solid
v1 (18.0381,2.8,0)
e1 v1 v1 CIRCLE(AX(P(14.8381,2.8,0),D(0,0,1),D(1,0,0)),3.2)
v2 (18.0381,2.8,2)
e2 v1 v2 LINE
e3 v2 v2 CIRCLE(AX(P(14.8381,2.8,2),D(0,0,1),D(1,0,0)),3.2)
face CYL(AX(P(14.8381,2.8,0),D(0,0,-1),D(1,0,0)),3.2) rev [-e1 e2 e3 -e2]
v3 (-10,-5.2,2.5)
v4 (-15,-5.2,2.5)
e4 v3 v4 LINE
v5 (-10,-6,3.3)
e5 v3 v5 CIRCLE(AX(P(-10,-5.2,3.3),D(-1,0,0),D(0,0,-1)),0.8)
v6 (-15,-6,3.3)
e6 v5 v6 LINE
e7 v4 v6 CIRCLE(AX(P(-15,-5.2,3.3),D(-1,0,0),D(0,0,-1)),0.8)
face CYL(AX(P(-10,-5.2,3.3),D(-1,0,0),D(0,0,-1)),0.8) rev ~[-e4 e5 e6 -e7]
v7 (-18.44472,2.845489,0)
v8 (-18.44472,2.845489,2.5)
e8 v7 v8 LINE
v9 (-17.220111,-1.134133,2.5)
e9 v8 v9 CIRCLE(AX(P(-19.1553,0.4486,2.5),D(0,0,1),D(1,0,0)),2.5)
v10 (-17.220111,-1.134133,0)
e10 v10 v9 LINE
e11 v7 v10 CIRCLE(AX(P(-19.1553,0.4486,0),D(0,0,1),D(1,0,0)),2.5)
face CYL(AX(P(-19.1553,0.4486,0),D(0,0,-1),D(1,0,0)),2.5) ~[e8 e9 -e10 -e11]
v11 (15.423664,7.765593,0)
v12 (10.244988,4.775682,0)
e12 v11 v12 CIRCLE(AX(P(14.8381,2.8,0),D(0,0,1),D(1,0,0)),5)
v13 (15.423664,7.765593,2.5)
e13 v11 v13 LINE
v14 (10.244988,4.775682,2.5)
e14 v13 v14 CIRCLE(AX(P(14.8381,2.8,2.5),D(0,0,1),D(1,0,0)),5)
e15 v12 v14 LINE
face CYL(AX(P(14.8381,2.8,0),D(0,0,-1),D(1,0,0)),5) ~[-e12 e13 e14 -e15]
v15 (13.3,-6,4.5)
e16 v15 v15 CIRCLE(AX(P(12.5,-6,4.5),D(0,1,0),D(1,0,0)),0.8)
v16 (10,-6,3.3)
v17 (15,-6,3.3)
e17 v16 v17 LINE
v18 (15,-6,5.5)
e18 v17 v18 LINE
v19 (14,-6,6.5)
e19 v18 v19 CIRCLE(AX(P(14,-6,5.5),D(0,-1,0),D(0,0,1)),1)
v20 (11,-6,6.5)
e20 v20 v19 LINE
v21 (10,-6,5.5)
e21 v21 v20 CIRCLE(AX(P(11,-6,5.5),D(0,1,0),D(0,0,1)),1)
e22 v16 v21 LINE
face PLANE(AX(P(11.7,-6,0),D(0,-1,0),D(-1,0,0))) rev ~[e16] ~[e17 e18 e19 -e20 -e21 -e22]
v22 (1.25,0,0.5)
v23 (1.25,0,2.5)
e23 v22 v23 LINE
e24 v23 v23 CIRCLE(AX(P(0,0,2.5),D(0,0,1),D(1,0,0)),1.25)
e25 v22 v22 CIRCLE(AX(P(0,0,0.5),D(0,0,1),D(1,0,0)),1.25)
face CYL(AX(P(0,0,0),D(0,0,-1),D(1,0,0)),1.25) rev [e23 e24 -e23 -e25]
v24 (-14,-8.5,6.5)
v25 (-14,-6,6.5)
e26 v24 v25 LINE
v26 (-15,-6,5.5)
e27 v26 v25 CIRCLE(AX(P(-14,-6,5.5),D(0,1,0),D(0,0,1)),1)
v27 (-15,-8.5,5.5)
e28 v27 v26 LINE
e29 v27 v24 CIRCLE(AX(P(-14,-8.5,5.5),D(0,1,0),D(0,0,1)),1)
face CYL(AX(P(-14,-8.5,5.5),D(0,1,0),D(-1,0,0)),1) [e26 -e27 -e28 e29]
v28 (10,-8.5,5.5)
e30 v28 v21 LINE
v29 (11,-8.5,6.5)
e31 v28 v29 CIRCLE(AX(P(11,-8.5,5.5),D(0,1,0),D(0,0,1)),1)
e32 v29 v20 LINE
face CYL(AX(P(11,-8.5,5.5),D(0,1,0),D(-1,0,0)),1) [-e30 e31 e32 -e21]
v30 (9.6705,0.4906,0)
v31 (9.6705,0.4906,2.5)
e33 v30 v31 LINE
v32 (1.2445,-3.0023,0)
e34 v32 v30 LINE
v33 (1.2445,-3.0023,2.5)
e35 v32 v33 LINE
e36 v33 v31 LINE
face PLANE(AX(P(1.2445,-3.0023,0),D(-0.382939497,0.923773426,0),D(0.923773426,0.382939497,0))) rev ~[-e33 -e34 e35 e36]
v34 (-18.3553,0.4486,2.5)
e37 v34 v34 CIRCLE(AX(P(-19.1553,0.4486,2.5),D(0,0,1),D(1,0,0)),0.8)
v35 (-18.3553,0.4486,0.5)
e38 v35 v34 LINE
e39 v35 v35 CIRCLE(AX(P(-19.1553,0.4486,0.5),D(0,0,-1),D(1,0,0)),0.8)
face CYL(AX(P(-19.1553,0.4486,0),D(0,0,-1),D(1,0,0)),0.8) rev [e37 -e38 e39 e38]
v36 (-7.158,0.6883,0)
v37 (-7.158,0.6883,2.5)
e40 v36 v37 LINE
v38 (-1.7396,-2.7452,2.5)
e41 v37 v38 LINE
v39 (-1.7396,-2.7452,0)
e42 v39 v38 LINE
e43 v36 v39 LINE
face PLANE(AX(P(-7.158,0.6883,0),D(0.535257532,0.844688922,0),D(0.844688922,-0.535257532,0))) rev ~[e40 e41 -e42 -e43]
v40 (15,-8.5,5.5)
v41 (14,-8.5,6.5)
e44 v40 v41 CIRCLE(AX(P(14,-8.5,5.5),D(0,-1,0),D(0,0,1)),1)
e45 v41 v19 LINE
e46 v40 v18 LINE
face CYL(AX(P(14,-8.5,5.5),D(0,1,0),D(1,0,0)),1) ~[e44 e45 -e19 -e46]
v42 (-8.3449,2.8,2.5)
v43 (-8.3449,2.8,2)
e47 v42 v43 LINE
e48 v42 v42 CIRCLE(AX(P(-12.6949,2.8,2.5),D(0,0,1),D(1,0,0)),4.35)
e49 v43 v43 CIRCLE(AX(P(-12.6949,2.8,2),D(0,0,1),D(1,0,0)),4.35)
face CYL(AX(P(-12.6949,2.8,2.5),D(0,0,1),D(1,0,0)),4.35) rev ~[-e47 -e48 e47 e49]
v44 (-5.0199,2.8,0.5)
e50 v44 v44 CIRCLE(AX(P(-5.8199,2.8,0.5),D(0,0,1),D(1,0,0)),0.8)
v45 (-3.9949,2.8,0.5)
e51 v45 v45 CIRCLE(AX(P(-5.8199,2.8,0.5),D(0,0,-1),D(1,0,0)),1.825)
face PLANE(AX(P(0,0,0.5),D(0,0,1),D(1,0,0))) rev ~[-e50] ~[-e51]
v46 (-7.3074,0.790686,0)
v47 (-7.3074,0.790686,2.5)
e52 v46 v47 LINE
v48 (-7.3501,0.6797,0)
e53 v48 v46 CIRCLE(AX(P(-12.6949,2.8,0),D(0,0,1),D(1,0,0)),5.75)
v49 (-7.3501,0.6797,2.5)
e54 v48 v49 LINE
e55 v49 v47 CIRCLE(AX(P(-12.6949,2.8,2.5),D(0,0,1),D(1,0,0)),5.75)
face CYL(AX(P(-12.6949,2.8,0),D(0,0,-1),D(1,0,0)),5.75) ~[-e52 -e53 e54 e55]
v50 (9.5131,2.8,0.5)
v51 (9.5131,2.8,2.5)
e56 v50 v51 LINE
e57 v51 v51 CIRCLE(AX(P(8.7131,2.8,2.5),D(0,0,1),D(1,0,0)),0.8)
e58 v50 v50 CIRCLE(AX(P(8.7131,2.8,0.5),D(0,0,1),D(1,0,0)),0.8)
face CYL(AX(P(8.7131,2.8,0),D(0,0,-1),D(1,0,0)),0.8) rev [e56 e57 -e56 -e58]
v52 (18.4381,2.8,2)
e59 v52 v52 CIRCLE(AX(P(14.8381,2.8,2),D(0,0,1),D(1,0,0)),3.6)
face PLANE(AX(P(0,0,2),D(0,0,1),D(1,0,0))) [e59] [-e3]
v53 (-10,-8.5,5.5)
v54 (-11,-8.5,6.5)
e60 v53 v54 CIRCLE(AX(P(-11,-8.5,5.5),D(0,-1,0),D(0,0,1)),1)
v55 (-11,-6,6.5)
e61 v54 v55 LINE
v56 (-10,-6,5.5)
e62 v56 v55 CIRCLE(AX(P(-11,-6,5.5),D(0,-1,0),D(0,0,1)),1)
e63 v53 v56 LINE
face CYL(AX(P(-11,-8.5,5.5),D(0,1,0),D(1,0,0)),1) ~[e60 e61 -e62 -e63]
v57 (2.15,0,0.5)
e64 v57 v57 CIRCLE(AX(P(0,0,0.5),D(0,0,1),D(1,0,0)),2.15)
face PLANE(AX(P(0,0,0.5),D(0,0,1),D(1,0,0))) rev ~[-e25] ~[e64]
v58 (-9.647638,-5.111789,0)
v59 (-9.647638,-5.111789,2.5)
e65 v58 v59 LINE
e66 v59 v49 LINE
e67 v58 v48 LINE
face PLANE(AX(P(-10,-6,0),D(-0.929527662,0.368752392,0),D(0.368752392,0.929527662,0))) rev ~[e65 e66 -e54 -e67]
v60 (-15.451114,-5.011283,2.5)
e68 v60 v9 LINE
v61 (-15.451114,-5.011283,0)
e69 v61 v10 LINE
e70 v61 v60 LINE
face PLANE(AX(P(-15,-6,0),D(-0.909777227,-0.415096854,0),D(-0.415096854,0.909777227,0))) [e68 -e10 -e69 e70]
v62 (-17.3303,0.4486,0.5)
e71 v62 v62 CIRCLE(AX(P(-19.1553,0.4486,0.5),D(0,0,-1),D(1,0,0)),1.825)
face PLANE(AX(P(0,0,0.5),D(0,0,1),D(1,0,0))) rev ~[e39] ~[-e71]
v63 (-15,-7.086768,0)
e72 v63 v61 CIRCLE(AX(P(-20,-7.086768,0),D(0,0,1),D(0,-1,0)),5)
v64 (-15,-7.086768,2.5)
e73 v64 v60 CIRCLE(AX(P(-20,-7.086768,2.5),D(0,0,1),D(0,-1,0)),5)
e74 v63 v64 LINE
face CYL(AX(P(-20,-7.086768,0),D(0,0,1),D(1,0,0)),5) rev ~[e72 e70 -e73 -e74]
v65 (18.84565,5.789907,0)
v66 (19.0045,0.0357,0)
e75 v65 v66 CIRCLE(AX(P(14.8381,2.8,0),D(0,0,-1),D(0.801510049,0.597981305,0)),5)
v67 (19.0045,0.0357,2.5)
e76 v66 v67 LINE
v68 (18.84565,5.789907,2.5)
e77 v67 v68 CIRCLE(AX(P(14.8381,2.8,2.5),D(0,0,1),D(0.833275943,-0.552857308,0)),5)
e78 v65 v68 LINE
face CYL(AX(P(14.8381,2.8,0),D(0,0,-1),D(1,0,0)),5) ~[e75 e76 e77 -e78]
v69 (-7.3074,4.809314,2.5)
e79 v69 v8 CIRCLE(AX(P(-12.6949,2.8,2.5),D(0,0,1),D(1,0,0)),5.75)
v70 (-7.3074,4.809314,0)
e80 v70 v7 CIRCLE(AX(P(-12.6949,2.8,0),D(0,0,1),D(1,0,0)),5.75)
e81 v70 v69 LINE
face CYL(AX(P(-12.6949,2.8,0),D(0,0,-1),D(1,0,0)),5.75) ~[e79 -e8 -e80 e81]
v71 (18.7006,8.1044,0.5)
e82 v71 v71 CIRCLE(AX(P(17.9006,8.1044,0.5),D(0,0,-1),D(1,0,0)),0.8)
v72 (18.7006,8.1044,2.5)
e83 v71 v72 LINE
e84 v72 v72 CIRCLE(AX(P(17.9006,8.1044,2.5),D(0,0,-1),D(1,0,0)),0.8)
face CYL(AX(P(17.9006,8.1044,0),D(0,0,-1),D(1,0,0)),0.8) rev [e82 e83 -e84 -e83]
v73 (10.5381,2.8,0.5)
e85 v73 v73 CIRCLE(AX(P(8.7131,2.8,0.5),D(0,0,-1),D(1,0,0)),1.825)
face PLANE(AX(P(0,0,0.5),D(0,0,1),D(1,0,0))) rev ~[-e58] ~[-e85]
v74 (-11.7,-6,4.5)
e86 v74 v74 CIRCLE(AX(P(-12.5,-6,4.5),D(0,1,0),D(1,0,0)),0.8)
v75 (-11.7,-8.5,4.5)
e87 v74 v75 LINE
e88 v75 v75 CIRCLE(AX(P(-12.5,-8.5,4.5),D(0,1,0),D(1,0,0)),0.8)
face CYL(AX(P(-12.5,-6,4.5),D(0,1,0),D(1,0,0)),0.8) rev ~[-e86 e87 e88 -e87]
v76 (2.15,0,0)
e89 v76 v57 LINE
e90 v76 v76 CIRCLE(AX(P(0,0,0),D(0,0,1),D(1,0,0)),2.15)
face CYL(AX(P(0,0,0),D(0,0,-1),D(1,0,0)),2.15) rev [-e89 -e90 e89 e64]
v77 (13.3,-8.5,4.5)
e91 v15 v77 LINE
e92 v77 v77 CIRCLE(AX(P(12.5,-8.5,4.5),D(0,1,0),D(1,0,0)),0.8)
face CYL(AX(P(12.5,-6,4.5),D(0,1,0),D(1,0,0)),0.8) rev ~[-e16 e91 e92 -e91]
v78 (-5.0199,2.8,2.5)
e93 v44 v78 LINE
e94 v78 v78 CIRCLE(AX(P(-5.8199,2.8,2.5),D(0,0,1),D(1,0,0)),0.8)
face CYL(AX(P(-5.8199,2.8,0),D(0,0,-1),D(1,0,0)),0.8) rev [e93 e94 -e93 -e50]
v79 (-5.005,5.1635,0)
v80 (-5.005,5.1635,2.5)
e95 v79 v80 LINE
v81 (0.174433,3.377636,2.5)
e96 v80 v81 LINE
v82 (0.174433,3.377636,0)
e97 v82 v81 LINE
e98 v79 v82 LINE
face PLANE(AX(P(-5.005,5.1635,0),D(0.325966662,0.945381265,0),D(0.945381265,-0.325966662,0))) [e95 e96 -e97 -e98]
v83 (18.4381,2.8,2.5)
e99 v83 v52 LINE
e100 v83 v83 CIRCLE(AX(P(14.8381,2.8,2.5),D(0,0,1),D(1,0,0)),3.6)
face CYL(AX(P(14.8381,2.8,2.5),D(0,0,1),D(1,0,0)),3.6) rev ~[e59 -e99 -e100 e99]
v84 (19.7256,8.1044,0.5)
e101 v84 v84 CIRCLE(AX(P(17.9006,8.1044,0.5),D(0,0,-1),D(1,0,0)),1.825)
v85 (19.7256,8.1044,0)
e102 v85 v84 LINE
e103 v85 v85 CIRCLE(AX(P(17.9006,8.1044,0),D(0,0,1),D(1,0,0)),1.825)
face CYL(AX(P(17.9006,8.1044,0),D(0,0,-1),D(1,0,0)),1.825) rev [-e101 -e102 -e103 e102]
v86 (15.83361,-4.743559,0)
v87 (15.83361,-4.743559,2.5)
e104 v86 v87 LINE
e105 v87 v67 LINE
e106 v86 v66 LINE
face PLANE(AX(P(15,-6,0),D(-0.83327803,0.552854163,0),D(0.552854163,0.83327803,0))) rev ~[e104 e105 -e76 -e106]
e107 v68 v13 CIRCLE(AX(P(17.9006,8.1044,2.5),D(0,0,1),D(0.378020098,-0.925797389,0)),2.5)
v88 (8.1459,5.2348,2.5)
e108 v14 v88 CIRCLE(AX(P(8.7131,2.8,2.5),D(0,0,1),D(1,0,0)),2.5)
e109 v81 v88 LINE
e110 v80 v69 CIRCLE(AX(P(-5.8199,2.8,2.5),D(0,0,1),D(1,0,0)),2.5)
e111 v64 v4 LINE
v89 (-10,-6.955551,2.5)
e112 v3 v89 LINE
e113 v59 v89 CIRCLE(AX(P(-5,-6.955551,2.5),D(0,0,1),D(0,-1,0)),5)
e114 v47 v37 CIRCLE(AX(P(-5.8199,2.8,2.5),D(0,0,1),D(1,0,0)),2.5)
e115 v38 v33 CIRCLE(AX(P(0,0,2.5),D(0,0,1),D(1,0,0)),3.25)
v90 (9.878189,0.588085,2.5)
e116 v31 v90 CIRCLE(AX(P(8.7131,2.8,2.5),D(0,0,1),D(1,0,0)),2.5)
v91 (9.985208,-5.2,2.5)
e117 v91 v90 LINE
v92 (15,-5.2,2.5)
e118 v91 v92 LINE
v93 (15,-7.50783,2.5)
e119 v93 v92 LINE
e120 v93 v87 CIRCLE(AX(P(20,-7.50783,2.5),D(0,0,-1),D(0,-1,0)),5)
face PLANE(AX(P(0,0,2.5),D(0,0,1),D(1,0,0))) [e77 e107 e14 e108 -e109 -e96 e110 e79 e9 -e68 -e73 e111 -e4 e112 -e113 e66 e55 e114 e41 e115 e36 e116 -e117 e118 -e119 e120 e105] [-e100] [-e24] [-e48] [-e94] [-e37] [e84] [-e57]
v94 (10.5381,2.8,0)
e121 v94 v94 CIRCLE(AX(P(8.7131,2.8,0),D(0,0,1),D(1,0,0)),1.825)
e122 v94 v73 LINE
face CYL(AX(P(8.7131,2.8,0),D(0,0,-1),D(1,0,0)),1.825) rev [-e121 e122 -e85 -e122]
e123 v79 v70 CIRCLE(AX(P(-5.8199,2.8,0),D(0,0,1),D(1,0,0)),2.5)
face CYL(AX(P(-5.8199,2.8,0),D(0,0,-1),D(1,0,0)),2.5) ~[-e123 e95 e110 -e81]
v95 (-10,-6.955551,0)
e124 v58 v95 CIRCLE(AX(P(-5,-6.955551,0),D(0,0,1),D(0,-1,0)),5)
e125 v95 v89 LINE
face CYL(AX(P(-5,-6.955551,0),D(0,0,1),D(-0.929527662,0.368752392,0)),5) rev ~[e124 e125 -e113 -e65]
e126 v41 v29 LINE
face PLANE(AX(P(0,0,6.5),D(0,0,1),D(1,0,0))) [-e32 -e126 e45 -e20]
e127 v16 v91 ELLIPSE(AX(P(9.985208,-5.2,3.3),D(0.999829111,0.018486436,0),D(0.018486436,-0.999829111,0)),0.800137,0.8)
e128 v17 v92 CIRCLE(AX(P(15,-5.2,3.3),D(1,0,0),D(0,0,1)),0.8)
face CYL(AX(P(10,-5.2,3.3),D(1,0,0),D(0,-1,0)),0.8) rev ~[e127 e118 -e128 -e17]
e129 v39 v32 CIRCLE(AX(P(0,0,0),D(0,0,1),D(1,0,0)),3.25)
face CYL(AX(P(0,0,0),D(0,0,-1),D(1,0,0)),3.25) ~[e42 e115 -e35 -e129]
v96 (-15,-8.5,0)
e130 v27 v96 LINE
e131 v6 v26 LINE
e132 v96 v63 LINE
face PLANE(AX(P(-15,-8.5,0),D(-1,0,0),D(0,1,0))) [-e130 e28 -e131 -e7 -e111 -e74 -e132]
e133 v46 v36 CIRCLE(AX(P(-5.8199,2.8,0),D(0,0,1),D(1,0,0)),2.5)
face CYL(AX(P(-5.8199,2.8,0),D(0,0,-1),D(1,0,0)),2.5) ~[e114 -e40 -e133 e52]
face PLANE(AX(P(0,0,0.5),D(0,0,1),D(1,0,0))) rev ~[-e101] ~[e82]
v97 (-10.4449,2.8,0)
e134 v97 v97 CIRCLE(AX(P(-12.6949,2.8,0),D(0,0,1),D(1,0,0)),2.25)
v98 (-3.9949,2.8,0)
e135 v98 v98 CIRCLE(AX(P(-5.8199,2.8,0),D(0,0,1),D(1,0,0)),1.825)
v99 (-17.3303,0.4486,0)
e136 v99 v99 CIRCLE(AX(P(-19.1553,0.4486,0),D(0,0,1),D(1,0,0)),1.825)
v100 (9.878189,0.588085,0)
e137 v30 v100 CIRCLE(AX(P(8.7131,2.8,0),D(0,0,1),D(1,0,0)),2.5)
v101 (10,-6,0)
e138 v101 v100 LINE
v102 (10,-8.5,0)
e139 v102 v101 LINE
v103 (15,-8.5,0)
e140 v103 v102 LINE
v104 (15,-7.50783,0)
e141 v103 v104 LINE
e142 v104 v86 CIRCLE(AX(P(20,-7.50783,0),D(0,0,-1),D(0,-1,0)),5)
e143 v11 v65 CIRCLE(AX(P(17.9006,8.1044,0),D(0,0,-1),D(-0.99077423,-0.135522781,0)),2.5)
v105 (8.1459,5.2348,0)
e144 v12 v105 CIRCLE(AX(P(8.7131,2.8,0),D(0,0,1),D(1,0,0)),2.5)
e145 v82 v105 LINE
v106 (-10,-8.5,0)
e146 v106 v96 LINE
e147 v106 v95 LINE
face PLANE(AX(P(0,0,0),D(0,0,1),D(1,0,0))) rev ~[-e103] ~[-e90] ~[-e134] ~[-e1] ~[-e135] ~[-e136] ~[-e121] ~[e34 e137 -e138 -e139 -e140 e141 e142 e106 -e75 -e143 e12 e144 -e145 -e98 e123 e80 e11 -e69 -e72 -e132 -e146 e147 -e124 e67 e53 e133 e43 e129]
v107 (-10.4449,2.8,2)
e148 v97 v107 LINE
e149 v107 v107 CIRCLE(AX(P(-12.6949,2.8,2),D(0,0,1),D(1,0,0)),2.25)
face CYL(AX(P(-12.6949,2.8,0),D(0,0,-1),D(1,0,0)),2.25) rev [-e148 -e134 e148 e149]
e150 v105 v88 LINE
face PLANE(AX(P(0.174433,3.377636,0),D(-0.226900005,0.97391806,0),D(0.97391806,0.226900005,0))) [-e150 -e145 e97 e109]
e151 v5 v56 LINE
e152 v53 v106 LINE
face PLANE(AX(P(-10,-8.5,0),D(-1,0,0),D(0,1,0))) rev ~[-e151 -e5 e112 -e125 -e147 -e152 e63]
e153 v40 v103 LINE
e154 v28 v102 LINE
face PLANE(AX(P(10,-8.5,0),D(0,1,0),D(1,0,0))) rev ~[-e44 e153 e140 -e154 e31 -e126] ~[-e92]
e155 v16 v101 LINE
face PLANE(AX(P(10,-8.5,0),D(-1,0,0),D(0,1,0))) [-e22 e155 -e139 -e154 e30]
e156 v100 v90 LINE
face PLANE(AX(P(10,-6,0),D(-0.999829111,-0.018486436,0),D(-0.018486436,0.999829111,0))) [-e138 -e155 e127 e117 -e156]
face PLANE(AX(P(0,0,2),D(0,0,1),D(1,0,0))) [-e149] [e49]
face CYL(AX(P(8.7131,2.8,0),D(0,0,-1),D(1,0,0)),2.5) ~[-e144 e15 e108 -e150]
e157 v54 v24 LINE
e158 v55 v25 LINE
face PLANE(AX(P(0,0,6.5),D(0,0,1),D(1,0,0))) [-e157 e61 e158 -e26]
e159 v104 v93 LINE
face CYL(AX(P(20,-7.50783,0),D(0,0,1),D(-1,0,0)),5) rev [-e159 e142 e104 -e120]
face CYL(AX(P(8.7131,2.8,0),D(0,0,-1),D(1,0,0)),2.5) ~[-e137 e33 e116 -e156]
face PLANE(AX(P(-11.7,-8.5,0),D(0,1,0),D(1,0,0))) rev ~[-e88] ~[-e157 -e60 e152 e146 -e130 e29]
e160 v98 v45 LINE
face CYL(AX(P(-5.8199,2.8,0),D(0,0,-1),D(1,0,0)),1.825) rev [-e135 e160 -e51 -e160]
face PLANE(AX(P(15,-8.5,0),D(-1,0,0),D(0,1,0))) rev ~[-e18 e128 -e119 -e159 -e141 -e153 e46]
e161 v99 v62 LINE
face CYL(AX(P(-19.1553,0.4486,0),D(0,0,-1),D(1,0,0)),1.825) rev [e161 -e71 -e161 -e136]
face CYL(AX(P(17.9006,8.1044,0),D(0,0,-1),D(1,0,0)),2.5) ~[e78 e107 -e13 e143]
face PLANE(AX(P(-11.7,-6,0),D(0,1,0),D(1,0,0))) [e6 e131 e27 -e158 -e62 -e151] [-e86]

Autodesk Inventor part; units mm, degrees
ref_plane "YZ Plane" through (0, 0, 0) normal (1, 0, 0) x (0, 1, 0)
ref_plane "XZ Plane" through (0, 0, 0) normal (0, 1, 0) x (-1, 0, 0)
ref_plane "XY Plane" through (0, 0, 0) normal (0, 0, 1) x (1, 0, 0)
sketch "blueprint" plane through (0, 0, 0) normal (0, 0, 1) x (1, 0, 0)
  line L0 (0, 0) -> (0, 1) construction
  line L1 (0, 0) -> (1, 0) construction
  circle A0 centre (0, 0) radius 1.25
  circle A1 centre (0, 0) radius 11.5 construction
  line L2 (-25, -11.5) -> (25, -11.5) construction
  line L3 (-25, -9.5) -> (25, -9.5) construction
  line L4 (-25, -8.5) -> (25, -8.5) construction
  line L5 (-25, -4) -> (25, -4) construction
  circle A2 centre (0, 0) radius 10.65 construction
  circle A3 centre (-12.6949, 2.8) radius 2.25
  circle A4 centre (14.8381, 2.8) radius 4.35 construction
  circle A5 centre (14.8381, 2.8) radius 3.5 construction
  line L6 (-25, -3.2) -> (25, -3.2) construction
  circle A6 centre (-12.6949, 2.8) radius 4.25 construction
  circle A7 centre (-19.1553, 0.4486) radius 0.625 construction
  circle A8 centre (-5.8199, 2.8) radius 0.625 construction
  circle A9 centre (-12.6949, 2.8) radius 6.875 construction
  circle A10 centre (-19.1553, 0.4486) radius 1.825
  circle A11 centre (-5.8199, 2.8) radius 1.825
  circle A12 centre (14.8381, 2.8) radius 5
  circle A13 centre (14.8381, 2.8) radius 6.125 construction
  circle A14 centre (17.9006, 8.1044) radius 0.625 construction
  circle A15 centre (8.7131, 2.8) radius 0.625 construction
  circle A16 centre (17.9006, 8.1044) radius 1.825
  circle A17 centre (-19.1553, 0.4486) radius 0.8
  circle A18 centre (-5.8199, 2.8) radius 0.8
  circle A19 centre (17.9006, 8.1044) radius 0.8
  circle A20 centre (-19.1553, 0.4486) radius 2.5
  circle A21 centre (-5.8199, 2.8) radius 2.5
  circle A22 centre (17.9006, 8.1044) radius 2.5
  circle A23 centre (14.8381, 2.8) radius 3.6
  circle A24 centre (0, 0) radius 3.25
  line L7 (-15, -4) -> (-15, -8.5) construction
  line L8 (15, -4) -> (15, -8.5) construction
  line L9 (-10, -8.5) -> (-10, -6)
  line L10 (-15, -8.5) -> (-15, -6)
  line L11 (-15, -6) -> (-10, -6)
  line L12 (-12.5, -6) -> (-12.5, -8.5)
  line L13 (-13.3, -6) -> (-13.3, -8.5)
  line L14 (-11.7, -6) -> (-11.7, -8.5)
  line L15 (10, -8.5) -> (10, -6)
  line L16 (15, -8.5) -> (15, -6)
  line L17 (15, -6) -> (10, -6)
  line L18 (12.5, -6) -> (12.5, -8.5)
  line L19 (13.3, -6) -> (13.3, -8.5)
  line L20 (11.7, -6) -> (11.7, -8.5)
  line L21 (-15, -8.5) -> (-10, -8.5)
  line L22 (10, -8.5) -> (15, -8.5)
  circle A25 centre (8.7131, 2.8) radius 1.825
  line L23 (-12.6949, 2.8) -> (-19.1553, 0.4486) construction
  line L24 (-12.6949, 2.8) -> (-5.8199, 2.8) construction
  line L25 (14.8381, 2.8) -> (8.7131, 2.8) construction
  circle A26 centre (-12.6949, 2.8) radius 5.75
  line L26 (-2.5, -6.5) -> (2.5, -6.5)
  line L27 (2.5, -6.5) -> (2.5, -8.5)
  line L28 (2.5, -8.5) -> (-2.5, -8.5)
  line L29 (-2.5, -8.5) -> (-2.5, -6.5)
  line L30 (-2.5, -6.5) -> (2.5, -8.5) construction
  line L31 (2.5, -6.5) -> (-2.5, -8.5) construction
  line L32 (0, -6.5) -> (0, -8.5) construction
  line L33 (-0.8, -6.5) -> (-0.8, -8.5) construction
  line L34 (0.8, -6.5) -> (0.8, -8.5) construction
  circle A27 centre (8.7131, 2.8) radius 0.8
  circle A28 centre (8.7131, 2.8) radius 2.5
  line L35 (17.9006, 8.1044) -> (14.8381, 2.8) construction
  circle A29 centre (0, 0) radius 2.15
  circle A30 centre (14.8381, 2.8) radius 3 construction
  circle A31 centre (14.8381, 2.8) radius 3.2
  circle A32 centre (-12.6949, 2.8) radius 4.35
  point P0 (18.8457, 5.7899)
  point P1 (15.4237, 7.7656)
  point P2 (0, -8.5)
  point P3 (-6.4807, -9.5)
  point P4 (6.4807, -9.5)
  point P5 (0, -7.5)
  point P6 (-17.0702, -0.9308)
  point P7 (-7.3074, 0.7907)
  point P8 (-7.3074, 4.8093)
  point P9 (-18.4447, 2.8455)
  point P10 (11.284, 2.5721)
  point P11 (11.284, 2.0279)
  point P12 (16.9793, 5.3162)
  point P13 (16.5081, 5.5882)
  dimension "d0" = 1
  dimension "d1" = 1
  dimension "d2" = 2.5
  dimension "d3" = 23
  dimension "d4" = 50
  dimension "d5" = 50
  dimension "d6" = 2
  dimension "d7" = 50
  dimension "d9" = 1
  dimension "d10" = 50
  dimension "d12" = 4.5
  dimension "d13" = 21.3
  dimension "d14" = 4.5
  dimension "d15" = 8.7
  dimension "d17" = 0.1
  dimension "d18" = 0.1
  dimension "d20" = 7
  dimension "d21" = 50
  dimension "d22" = 0.8
  dimension "d23" = 8.5
  dimension "d26" = 1.25
  dimension "d27" = 1.25
  dimension "d28" = 1.2
  dimension "d29" = 1.2
  dimension "d31" = 1.5
  dimension "d32" = 1.25
  dimension "d33" = 1.25
  dimension "d34" = 1.2
  dimension "d37" = 0.5
  dimension "d40" = 1.6
  dimension "d41" = 1.6
  dimension "d43" = 1.6
  dimension "d49" = 2
  dimension "d56" = 30
  dimension "d90" = 2.5
  dimension "d92" = 5
  dimension "d93" = 1.6
  dimension "d104" = 1.2
  dimension "d105" = 5
  dimension "d106" = 1.6
  dimension "d107" = 2.5
  dimension "d129" = 5
  dimension "d130" = 5
  dimension "d132" = 5
  dimension "d155" = 25
  dimension "d158" = 1.5
  dimension "d160" = 0.5
  dimension "d161" = 200
  dimension "d166" = 1.6
  dimension "d167" = 5
  dimension "d168" = 2
  dimension "d178" = 1.6
  dimension "d179" = 5
  dimension "d181" = 6
  dimension "d187" = 1.75
  dimension "d196" = 4.3
  dimension "d218" = 10.6088
  dimension "d219" = 13.5411
  dimension "d220" = 120
  dimension "d221" = 6
  dimension "d237" = 0.1
  dimension "d238" = 6
  dimension "d239" = 0.2
  dimension "d247" = 0.1
sketch "スケッチ5" plane through (0, 0, 0) normal (0, 0, 1) x (1, 0, 0)
  circle A0 centre (0, 0) radius 10.65 construction
  circle A1 centre (0, 0) radius 11.5 construction
  line L0 (-25, -3.2) -> (25, -3.2) construction
  line L1 (-25, -4) -> (25, -4) construction
  line L2 (-25, -8.5) -> (25, -8.5) construction
  line L3 (-25, -9.5) -> (25, -9.5) construction
  line L4 (-25, -11.5) -> (25, -11.5) construction
  line L5 (0, 0) -> (1, 0) construction
  circle A2 centre (0, 0) radius 1.25 projected
  line L6 (0, 0) -> (0, 1) construction
  circle A3 centre (-5.8199, 2.8) radius 0.625 construction
  circle A4 centre (-5.8199, 2.8) radius 0.8 projected
  circle A5 centre (-5.8199, 2.8) radius 1.825 construction
  circle A6 centre (-5.8199, 2.8) radius 2.5 projected
  line L7 (-12.6949, 2.8) -> (-5.8199, 2.8) construction
  circle A7 centre (-12.6949, 2.8) radius 2.25 projected
  circle A8 centre (-12.6949, 2.8) radius 4.25 construction
  circle A9 centre (-12.6949, 2.8) radius 5.75 projected
  circle A10 centre (-12.6949, 2.8) radius 6.875 construction
  line L8 (-12.6949, 2.8) -> (-19.1553, 0.4486) construction
  circle A11 centre (-19.1553, 0.4486) radius 2.5 projected
  circle A12 centre (14.8381, 2.8) radius 3.5 construction
  circle A13 centre (14.8381, 2.8) radius 4.35 construction
  circle A14 centre (-19.1553, 0.4486) radius 0.625 construction
  circle A15 centre (-19.1553, 0.4486) radius 0.8 projected
  circle A16 centre (-19.1553, 0.4486) radius 1.825 construction
  circle A17 centre (14.8381, 2.8) radius 5 projected
  circle A18 centre (14.8381, 2.8) radius 6.125 construction
  circle A19 centre (17.9006, 8.1044) radius 0.625 construction
  circle A20 centre (8.7131, 2.8) radius 0.625 construction
  circle A21 centre (17.9006, 8.1044) radius 1.825 construction
  line L9 (14.8381, 2.8) -> (8.7131, 2.8) construction
  circle A22 centre (8.7131, 2.8) radius 0.8 projected
  circle A23 centre (8.7131, 2.8) radius 1.825 construction
  circle A24 centre (8.7131, 2.8) radius 2.5 projected
  circle A25 centre (14.8381, 2.8) radius 3.6 projected
  line L10 (17.9006, 8.1044) -> (14.8381, 2.8) construction
  circle A26 centre (17.9006, 8.1044) radius 2.5 projected
  circle A27 centre (17.9006, 8.1044) radius 0.8 projected
  line L11 (-10, -8.5) -> (-10, -6) projected
  line L12 (-11.7, -6) -> (-11.7, -8.5) projected
  line L13 (-15, -6) -> (-10, -6) projected
  line L14 (-12.5, -6) -> (-12.5, -8.5) projected
  line L15 (-13.3, -6) -> (-13.3, -8.5) projected
  line L16 (-15, -8.5) -> (-10, -8.5) projected
  line L17 (-15, -4) -> (-15, -8.5) construction
  line L18 (-15, -8.5) -> (-15, -6) projected
  line L19 (15, -4) -> (15, -8.5) construction
  line L20 (15, -8.5) -> (15, -6) projected
  line L21 (13.3, -6) -> (13.3, -8.5) projected
  line L22 (15, -6) -> (10, -6) projected
  line L23 (12.5, -6) -> (12.5, -8.5) projected
  line L24 (11.7, -6) -> (11.7, -8.5) projected
  line L25 (10, -8.5) -> (15, -8.5) projected
  line L26 (10, -8.5) -> (10, -6) projected
  circle A28 centre (0, 0) radius 3.25 projected
  line L27 (-2.5, -8.5) -> (-2.5, -6.5) projected
  line L28 (-0.8, -6.5) -> (-0.8, -8.5) construction
  line L29 (0, -6.5) -> (0, -8.5) construction
  line L30 (0.8, -6.5) -> (0.8, -8.5) construction
  line L31 (-2.5, -6.5) -> (2.5, -6.5) projected
  line L32 (-2.5, -6.5) -> (2.5, -8.5) construction
  line L33 (2.5, -6.5) -> (-2.5, -8.5) construction
  line L34 (2.5, -8.5) -> (-2.5, -8.5) projected
  line L35 (2.5, -6.5) -> (2.5, -8.5) projected
  line L36 (-15, -6) -> (-17.9261, 0.4132)
  line L37 (-10, -6) -> (-7.3501, 0.6797)
  line L38 (10, -6) -> (9.839, 2.7076)
  line L39 (15, -6) -> (19.0045, 0.0357)
  line L40 (-7.158, 0.6883) -> (-1.7396, -2.7452)
  line L41 (-5.005, 5.1635) -> (1.0594, 3.0725)
  line L42 (-0.7374, 3.1652) -> (8.1459, 5.2348)
  line L43 (1.2445, -3.0023) -> (9.6705, 0.4906)
  point P0 (0, -7.5)
  point P1 (0, -8.5)
  point P2 (6.4807, -9.5)
  point P3 (-6.4807, -9.5)
  point P4 (10.245, 0.8243)
  point P5 (9.8782, 0.5881)
  point P6 (0.1743, 3.3777)
  point P7 (-18.4447, 2.8455)
  point P8 (-17.0702, -0.9308)
  point P9 (-7.3074, 0.7907)
  point P10 (18.8457, 5.7899)
  point P11 (15.4237, 7.7656)
  point P12 (10.245, 4.7757)
  point P13 (-7.3074, 4.8093)
  point P14 (18.0158, -1.9266)
  point P15 (-17.2201, -1.1342)
extrude "押し出し33" add sketch "スケッチ5" along normal blind 2.5 contours A6 A9 | A6 L41 L42 A28 L40 | A9 A6 | A6 A9 A11 | L42 A24 L43 A28 L41 | L41 A28 L42 | A28 | A11 A9 | A9 L36 A11 | A24 A17 L38 | L37 L13 L36 A11 A9 | A9 A11 L36 | A24 A17 | A17 A26 A24 | L11 L16 L12 L13 | L13 L15 L16 L18 | L38 A17 A24 | A24 A17 L39 L22 L38 | A26 A17 | A17 A26 | L12 L16 L14 L13 | L13 L14 L16 L15 | L22 L24 L25 L26 | L22 L23 L25 L24 | L20 L25 L21 L22 | L22 L21 L25 L23 | A25 | A27
extrude "押し出し34" cut sketch "blueprint" along normal blind 0.5 contours A10 A26 | A26 A10 | A26 A11 | A11 A26 | A16 A12 | A12 A16 | A25 A12 | A12 A25 | A17 | A19 | A29
fillet "フィレット7" radius 5 3 edges at (15, -6, 1.25) (-15, -6, 1.25) (-10, -6, 1.25)
extrude "押し出し39" add sketch "blueprint" along normal blind 6.5 contours L21 L14 L11 L9 | L21 L12 L11 L14 | L21 L13 L11 L12 | L21 L10 L11 L13 | L15 L17 L20 L22 | L20 L17 L18 L22 | L18 L17 L19 L22 | L19 L17 L16 L22
ref_plane "作業平面8" through (-15, -6, 2.5) normal (0, 1, 0) x (1, 0, 0)
sketch "スケッチ9" plane through (-15, -6, 2.5) normal (0, 1, 0) x (1, 0, 0)
  line L0 (0, 0) -> (5, 0) projected
  line L1 (0, 0) -> (0, -4) projected
  line L2 (5, -4) -> (0, -4) projected
  line L3 (5, 0) -> (5, -4) projected
  line L4 (25, 0) -> (30, 0) projected
  line L5 (25, 0) -> (25, -4) projected
  line L6 (30, -4) -> (25, -4) projected
  line L7 (30, 0) -> (30, -4) projected
  line L8 (0, 2.5) -> (0, 0) projected
  line L9 (5, 2.5) -> (5, -4) projected
  line L10 (0, 0) -> (5, -4) construction
  line L11 (0, 2.5) -> (0, -4) projected
  line L12 (5, 0) -> (5.3524, 0) projected
  line L13 (0, -4) -> (5, 0) construction
  line L14 (30, 2.5) -> (30, -4) projected
  line L15 (25, 0) -> (30, -4) construction
  line L16 (25, 2.5) -> (25, -4) projected
  line L17 (30, 0) -> (30, 2.5) projected
  line L18 (25, -4) -> (30, 0) construction
  circle A0 centre (2.5, -2) radius 0.8
  circle A1 centre (27.5, -2) radius 0.8
  point P0 (15, 2.5)
  dimension "d227" = 1.6
  dimension "d228" = 1.6
extrude "押し出し40" cut sketch "スケッチ9" against normal blind 6.5 contours A0 | A1
fillet "フィレット8" radius 1 4 edges at (-15, -7.25, 6.5) (-10, -7.25, 6.5) (10, -7.25, 6.5) (15, -7.25, 6.5)
fillet "フィレット9" radius 0.8 2 edges at (-12.5, -6, 2.5) (12.5, -6, 2.5)
extrude "押し出し41" cut sketch "スケッチ5" along normal blind 6.5 contours A27
extrude "押し出し42" cut sketch "blueprint" along normal blind 6.5 contours A23 | A31
extrude "押し出し43" add sketch "blueprint" along normal up to surface (2.5 mm away) contours A23
ref_plane "作業平面9" through (0, 0, 2.5) normal (0, 0, 1) x (1, 0, 0)
sketch "スケッチ10" plane through (0, 0, 2.5) normal (0, 0, 1) x (1, 0, 0)
  line L0 (8.1459, 5.2348) -> (0.1743, 3.3777) projected
  line L1 (0.1743, 3.3777) -> (-5.005, 5.1635) projected
  arc A0 (-5.005, 5.1635) -> (-7.3074, 4.8093) centre (-5.8199, 2.8) ccw projected
  line L2 (0.1743, 3.3777) -> (-5.005, 5.1635) projected
  line L3 (-7.158, 0.6883) -> (-1.7396, -2.7452) projected
  line L4 (-7.158, 0.6883) -> (-1.7396, -2.7452) projected
  circle A1 centre (-5.8199, 2.8) radius 0.8 projected
  circle A2 centre (-5.8199, 2.8) radius 0.8 projected
  circle A3 centre (-5.8199, 2.8) radius 1.825 projected
  circle A4 centre (-5.8199, 2.8) radius 1.825 projected
  arc A5 (-5.005, 5.1635) -> (-7.3074, 4.8093) centre (-5.8199, 2.8) ccw projected
  arc A6 (-7.3074, 0.7907) -> (-7.158, 0.6883) centre (-5.8199, 2.8) ccw projected
  arc A7 (-7.3501, 0.6797) -> (-7.3074, 0.7907) centre (-12.6949, 2.8) ccw projected
  arc A8 (-7.3074, 0.7907) -> (-7.158, 0.6883) centre (-5.8199, 2.8) ccw projected
  arc A9 (-7.3501, 0.6797) -> (-7.3074, 0.7907) centre (-12.6949, 2.8) ccw projected
  arc A10 (-1.7396, -2.7452) -> (1.2445, -3.0023) centre (0, 0) ccw projected
  circle A11 centre (0, 0) radius 1.25 projected
  circle A12 centre (0, 0) radius 1.25 projected
  circle A13 centre (0, 0) radius 2.15 projected
  circle A14 centre (0, 0) radius 2.15 projected
  line L5 (0.1743, 3.3777) -> (-5.005, 5.1635) projected
  arc A15 (-1.7396, -2.7452) -> (1.2445, -3.0023) centre (0, 0) ccw projected
  line L6 (8.1459, 5.2348) -> (0.1743, 3.3777) projected
  arc A16 (-1.7396, -2.7452) -> (1.2445, -3.0023) centre (0, 0) ccw projected
  arc A17 (-1.7396, -2.7452) -> (1.2445, -3.0023) centre (0, 0) ccw projected
  line L7 (1.2445, -3.0023) -> (9.6705, 0.4906) projected
  line L8 (8.1459, 5.2348) -> (0.1743, 3.3777) projected
  line L9 (0.1743, 3.3777) -> (-5.005, 5.1635) projected
  line L10 (8.1459, 5.2348) -> (0.1743, 3.3777) projected
  circle A18 centre (8.7131, 2.8) radius 0.8 projected
  circle A19 centre (8.7131, 2.8) radius 0.8 projected
  line L11 (1.2445, -3.0023) -> (9.6705, 0.4906) projected
  line L12 (-15, -8.5) -> (-10, -8.5) projected
  line L13 (-10, -8.5) -> (-10, -6.9556) projected
  line L14 (-10, -6) -> (-10, -5.2) projected
  arc A20 (-15, -7.0868) -> (-15.4511, -5.0113) centre (-20, -7.0868) ccw projected
  arc A21 (-15, -7.0868) -> (-15.4511, -5.0113) centre (-20, -7.0868) ccw projected
  line L15 (-15, -7.0868) -> (-15, -5.2) projected
  line L16 (-10, -8.5) -> (-10, -6) projected
  line L17 (-15, -5.2) -> (-15, -6) projected
  line L18 (-15, -6) -> (-10, -6) projected
  line L19 (-11, -6) -> (-11, -8.5) projected
  line L20 (-10, -8.5) -> (-11, -8.5) projected
  line L21 (-11, -6) -> (-14, -6) projected
  line L22 (-14, -8.5) -> (-11, -8.5) projected
  line L23 (-15, -6) -> (-15, -8.5) projected
  line L24 (-14, -8.5) -> (-14, -6) projected
  line L25 (-15, -6) -> (-14, -6) projected
  line L26 (-15, -7.0868) -> (-15, -8.5) projected
  arc A22 (9.6705, 0.4906) -> (9.8782, 0.5881) centre (8.7131, 2.8) ccw projected
  arc A23 (19.0045, 0.0357) -> (18.8457, 5.7899) centre (14.8381, 2.8) ccw projected
  arc A24 (18.8457, 5.7899) -> (15.4237, 7.7656) centre (17.9006, 8.1044) ccw projected
  arc A25 (15.4237, 7.7656) -> (10.245, 4.7757) centre (14.8381, 2.8) ccw projected
  arc A26 (10.245, 4.7757) -> (8.1459, 5.2348) centre (8.7131, 2.8) ccw projected
  circle A27 centre (17.9006, 8.1044) radius 1.825 projected
  circle A28 centre (17.9006, 8.1044) radius 1.825 projected
  circle A29 centre (14.8381, 2.8) radius 3.2 projected
  circle A30 centre (14.8381, 2.8) radius 3.2 projected
  arc A31 (19.0045, 0.0357) -> (18.8457, 5.7899) centre (14.8381, 2.8) ccw projected
  arc A32 (10.245, 4.7757) -> (8.1459, 5.2348) centre (8.7131, 2.8) ccw projected
  arc A33 (15.4237, 7.7656) -> (10.245, 4.7757) centre (14.8381, 2.8) ccw projected
  circle A34 centre (17.9006, 8.1044) radius 0.8 projected
  arc A35 (18.8457, 5.7899) -> (15.4237, 7.7656) centre (17.9006, 8.1044) ccw projected
  circle A36 centre (17.9006, 8.1044) radius 0.8 projected
  line L27 (-10, -5.2) -> (-10, -6.9556) projected
  arc A37 (-9.6476, -5.1118) -> (-10, -6.9556) centre (-5, -6.9556) ccw projected
  arc A38 (-9.6476, -5.1118) -> (-10, -6.9556) centre (-5, -6.9556) ccw projected
  line L28 (-14, -8.5) -> (-15, -8.5) projected
  line L29 (-11.7, -8.5) -> (-13.3, -8.5) projected
  line L30 (-13.3, -6) -> (-11.7, -6) projected
  line L31 (9.8782, 0.5881) -> (10, -6) projected
  line L32 (10, -8.5) -> (15, -8.5) projected
  line L33 (15, -8.5) -> (15, -7.5078) projected
  line L34 (15.8336, -4.7436) -> (19.0045, 0.0357) projected
  arc A39 (15.8336, -4.7436) -> (15, -7.5078) centre (20, -7.5078) ccw projected
  line L35 (15.8336, -4.7436) -> (19.0045, 0.0357) projected
  arc A40 (9.6705, 0.4906) -> (9.8782, 0.5881) centre (8.7131, 2.8) ccw projected
  line L36 (15, -6) -> (15, -5.2) projected
  line L37 (9.8782, 0.5881) -> (9.9852, -5.2) projected
  arc A41 (15.8336, -4.7436) -> (15, -7.5078) centre (20, -7.5078) ccw projected
  line L38 (15, -5.2) -> (15, -7.5078) projected
  line L39 (15, -5.2) -> (9.9852, -5.2) projected
  line L40 (11.7, -6) -> (13.3, -6) projected
  line L41 (10, -6) -> (15, -6) projected
  line L42 (9.9852, -5.2) -> (10, -6) projected
  line L43 (15, -8.5) -> (15, -6) projected
  line L44 (13.3, -8.5) -> (11.7, -8.5) projected
  line L45 (10, -6) -> (10, -8.5) projected
  line L46 (10, -6) -> (10, -8.5) projected
  arc A42 (-7.3074, 4.8093) -> (-18.4447, 2.8455) centre (-12.6949, 2.8) ccw projected
  arc A43 (-18.4447, 2.8455) -> (-17.2201, -1.1342) centre (-19.1553, 0.4486) ccw projected
  line L47 (-17.2201, -1.1342) -> (-15.4511, -5.0113) projected
  circle A44 centre (-12.6949, 2.8) radius 2.25 projected
  circle A45 centre (-19.1553, 0.4486) radius 0.8 projected
  circle A46 centre (-19.1553, 0.4486) radius 1.825 projected
  circle A47 centre (-19.1553, 0.4486) radius 1.825 projected
  circle A48 centre (8.7131, 2.8) radius 1.825 projected
  circle A49 centre (8.7131, 2.8) radius 1.825 projected
  line L48 (-9.6476, -5.1118) -> (-7.3501, 0.6797) projected
  circle A50 centre (-19.1553, 0.4486) radius 0.8 projected
  circle A51 centre (-12.6949, 2.8) radius 2.25 projected
  line L49 (-9.6476, -5.1118) -> (-7.3501, 0.6797) projected
  arc A52 (-7.3074, 4.8093) -> (-18.4447, 2.8455) centre (-12.6949, 2.8) ccw projected
  line L50 (-17.2201, -1.1342) -> (-15.4511, -5.0113) projected
  arc A53 (-18.4447, 2.8455) -> (-17.2201, -1.1342) centre (-19.1553, 0.4486) ccw projected
  line L51 (-10, -5.2) -> (-15, -5.2) projected
  line L52 (-11, -6) -> (-10, -6) projected
  line L53 (11, -8.5) -> (10, -8.5) projected
  line L54 (11, -8.5) -> (14, -8.5) projected
  line L55 (11, -8.5) -> (11, -6) projected
  line L56 (15, -8.5) -> (14, -8.5) projected
  line L57 (14, -6) -> (14, -8.5) projected
  line L58 (14, -6) -> (15, -6) projected
  line L59 (14, -6) -> (11, -6) projected
  line L60 (10, -6) -> (11, -6) projected
  line L61 (-35, -6) -> (35, -6) projected
  line L62 (-25, -3.2) -> (25, -3.2) construction
  line L63 (-25, -4) -> (25, -4) construction
  line L64 (-25, -8.5) -> (25, -8.5) construction
  line L65 (-25, -9.5) -> (25, -9.5) construction
  line L66 (-25, -11.5) -> (25, -11.5) construction
  circle A54 centre (0, 0) radius 10.65 construction
  circle A55 centre (0, 0) radius 11.5 construction
  circle A56 centre (0, 0) radius 1.25 projected
  circle A57 centre (0, 0) radius 3.25 projected
  line L67 (-2.5, -8.5) -> (-2.5, -6.5) projected
  line L68 (-0.8, -6.5) -> (-0.8, -8.5) construction
  circle A58 centre (0, 0) radius 2.15 projected
  line L69 (0, -6.5) -> (0, -8.5) construction
  line L70 (0.8, -6.5) -> (0.8, -8.5) construction
  line L71 (-2.5, -6.5) -> (2.5, -6.5) projected
  line L72 (2.5, -8.5) -> (-2.5, -8.5) projected
  line L73 (2.5, -6.5) -> (-2.5, -8.5) construction
  line L74 (-2.5, -6.5) -> (2.5, -8.5) construction
  circle A59 centre (-5.8199, 2.8) radius 0.625 construction
  circle A60 centre (-5.8199, 2.8) radius 0.8 projected
  circle A61 centre (-5.8199, 2.8) radius 1.825 projected
  circle A62 centre (-5.8199, 2.8) radius 2.5 projected
  line L75 (-15, -4) -> (-15, -8.5) construction
  line L76 (-15, -8.5) -> (-15, -6) projected
  line L77 (-13.3, -6) -> (-13.3, -8.5) projected
  line L78 (-12.5, -6) -> (-12.5, -8.5) projected
  line L79 (-15, -6) -> (-10, -6) projected
  line L80 (-11.7, -6) -> (-11.7, -8.5) projected
  line L81 (-15, -8.5) -> (-10, -8.5) projected
  line L82 (-10, -8.5) -> (-10, -6) projected
  circle A63 centre (-12.6949, 2.8) radius 2.25 projected
  circle A64 centre (-12.6949, 2.8) radius 4.25 construction
  line L83 (-12.6949, 2.8) -> (-5.8199, 2.8) construction
  circle A65 centre (-12.6949, 2.8) radius 5.75 projected
  circle A66 centre (-12.6949, 2.8) radius 6.875 construction
  line L84 (-12.6949, 2.8) -> (-19.1553, 0.4486) construction
  circle A67 centre (-19.1553, 0.4486) radius 0.625 construction
  circle A68 centre (-19.1553, 0.4486) radius 1.825 projected
  circle A69 centre (-19.1553, 0.4486) radius 2.5 projected
  circle A70 centre (-19.1553, 0.4486) radius 0.8 projected
  line L85 (2.5, -6.5) -> (2.5, -8.5) projected
  line L86 (15, -6) -> (10, -6) projected
  line L87 (10, -8.5) -> (10, -6) projected
  line L88 (10, -8.5) -> (15, -8.5) projected
  line L89 (15, -4) -> (15, -8.5) construction
  line L90 (15, -8.5) -> (15, -6) projected
  line L91 (11.7, -6) -> (11.7, -8.5) projected
  line L92 (12.5, -6) -> (12.5, -8.5) projected
  line L93 (13.3, -6) -> (13.3, -8.5) projected
  circle A71 centre (14.8381, 2.8) radius 5 projected
  circle A72 centre (14.8381, 2.8) radius 6.125 construction
  circle A73 centre (17.9006, 8.1044) radius 0.625 construction
  circle A74 centre (8.7131, 2.8) radius 0.625 construction
  circle A75 centre (17.9006, 8.1044) radius 1.825 projected
  circle A76 centre (17.9006, 8.1044) radius 0.8 projected
  circle A77 centre (17.9006, 8.1044) radius 2.5 projected
  line L94 (14.8381, 2.8) -> (8.7131, 2.8) construction
  circle A78 centre (8.7131, 2.8) radius 1.825 projected
  circle A79 centre (8.7131, 2.8) radius 2.5 projected
  circle A80 centre (14.8381, 2.8) radius 3 construction
  circle A81 centre (14.8381, 2.8) radius 3.2 projected
  circle A82 centre (14.8381, 2.8) radius 3.6 projected
  line L95 (17.9006, 8.1044) -> (14.8381, 2.8) construction
  circle A83 centre (8.7131, 2.8) radius 0.8 projected
  line L96 (0, 0) -> (0, 1) construction
  line L97 (0, 0) -> (1, 0) construction
  circle A84 centre (14.8381, 2.8) radius 3.5 construction
  circle A85 centre (14.8381, 2.8) radius 4.35 construction
  line L98 (12.5, -6) -> (12.5, -8.5) projected
  line L99 (11.7, -6) -> (11.7, -8.5) projected
  line L100 (13.3, -6) -> (13.3, -8.5) projected
  line L101 (10, -8.5) -> (10, -6) projected
  line L102 (10, -8.5) -> (15, -8.5) projected
  line L103 (15, -4) -> (15, -8.5) construction
  line L104 (15, -6) -> (10, -6) projected
  line L105 (15, -6) -> (19.0045, 0.0357) projected
  line L106 (10, -6) -> (9.839, 2.7076) projected
  line L107 (14.8381, 2.8) -> (8.7131, 2.8) construction
  line L108 (1.2445, -3.0023) -> (9.6705, 0.4906) projected
  line L109 (-0.7374, 3.1652) -> (8.1459, 5.2348) projected
  circle A86 centre (0, 0) radius 10.65 construction
  circle A87 centre (0, 0) radius 11.5 construction
  line L110 (-25, -11.5) -> (25, -11.5) construction
  line L111 (-25, -9.5) -> (25, -9.5) construction
  line L112 (-25, -8.5) -> (25, -8.5) construction
  line L113 (-25, -4) -> (25, -4) construction
  line L114 (-25, -3.2) -> (25, -3.2) construction
  circle A88 centre (8.7131, 2.8) radius 0.625 construction
  circle A89 centre (8.7131, 2.8) radius 0.8 projected
  circle A90 centre (8.7131, 2.8) radius 1.825 construction
  circle A91 centre (8.7131, 2.8) radius 2.5 projected
  line L115 (-15, -6) -> (-17.9261, 0.4132) projected
  line L116 (-10, -6) -> (-7.3501, 0.6797) projected
  line L117 (-12.6949, 2.8) -> (-5.8199, 2.8) construction
  circle A92 centre (-19.1553, 0.4486) radius 0.625 construction
  circle A93 centre (-19.1553, 0.4486) radius 0.8 projected
  circle A94 centre (-19.1553, 0.4486) radius 1.825 construction
  circle A95 centre (-19.1553, 0.4486) radius 2.5 projected
  line L118 (-12.6949, 2.8) -> (-19.1553, 0.4486) construction
  circle A96 centre (-12.6949, 2.8) radius 6.875 construction
  circle A97 centre (-12.6949, 2.8) radius 5.75 projected
  circle A98 centre (-12.6949, 2.8) radius 4.25 construction
  circle A99 centre (-12.6949, 2.8) radius 2.25 projected
  circle A100 centre (14.8381, 2.8) radius 3.5 construction
  circle A101 centre (14.8381, 2.8) radius 4.35 construction
  circle A102 centre (14.8381, 2.8) radius 5 projected
  circle A103 centre (14.8381, 2.8) radius 6.125 construction
  circle A104 centre (17.9006, 8.1044) radius 0.625 construction
  circle A105 centre (17.9006, 8.1044) radius 1.825 construction
  circle A106 centre (14.8381, 2.8) radius 3.6 projected
  line L119 (17.9006, 8.1044) -> (14.8381, 2.8) construction
  circle A107 centre (17.9006, 8.1044) radius 0.8 projected
  circle A108 centre (17.9006, 8.1044) radius 2.5 projected
  line L120 (-15, -6) -> (-10, -6) projected
  line L121 (-15, -4) -> (-15, -8.5) construction
  line L122 (-15, -8.5) -> (-10, -8.5) projected
  line L123 (-15, -8.5) -> (-15, -6) projected
  line L124 (-13.3, -6) -> (-13.3, -8.5) projected
  line L125 (-12.5, -6) -> (-12.5, -8.5) projected
  line L126 (-11.7, -6) -> (-11.7, -8.5) projected
  line L127 (-10, -8.5) -> (-10, -6) projected
  line L128 (0, 0) -> (1, 0) construction
  circle A109 centre (0, 0) radius 1.25 projected
  line L129 (0, 0) -> (0, 1) construction
  circle A110 centre (-5.8199, 2.8) radius 0.625 construction
  circle A111 centre (-5.8199, 2.8) radius 0.8 projected
  circle A112 centre (-5.8199, 2.8) radius 1.825 construction
  circle A113 centre (-5.8199, 2.8) radius 2.5 projected
  line L130 (-7.158, 0.6883) -> (-1.7396, -2.7452) projected
  line L131 (-2.5, -8.5) -> (-2.5, -6.5) projected
  line L132 (-0.8, -6.5) -> (-0.8, -8.5) construction
  line L133 (0, -6.5) -> (0, -8.5) construction
  line L134 (0.8, -6.5) -> (0.8, -8.5) construction
  line L135 (-5.005, 5.1635) -> (1.0594, 3.0725) projected
  circle A114 centre (0, 0) radius 3.25 projected
  line L136 (2.5, -6.5) -> (2.5, -8.5) projected
  line L137 (-2.5, -6.5) -> (2.5, -8.5) construction
  line L138 (2.5, -6.5) -> (-2.5, -8.5) construction
  line L139 (2.5, -8.5) -> (-2.5, -8.5) projected
  line L140 (-2.5, -6.5) -> (2.5, -6.5) projected
  line L141 (15, -8.5) -> (15, -6) projected
  circle A115 centre (-12.6949, 2.8) radius 4.35 projected
  point P0 (0, -8.5)
  point P1 (0, -7.5)
  point P2 (6.4807, -9.5)
  point P3 (-6.4807, -9.5)
  point P4 (-6.4807, -9.5)
  point P5 (6.4807, -9.5)
  point P6 (0, -8.5)
  point P7 (0, -7.5)
extrude "押し出し45" cut sketch "スケッチ10" against normal blind 0.5 contours A82
extrude "押し出し46" cut sketch "スケッチ10" against normal blind 0.5 contours A115
equation "\"d5\" = d4"
equation "\"d7\" = d4"
equation "\"d10\" = d4"
properties part number "Motormount"
